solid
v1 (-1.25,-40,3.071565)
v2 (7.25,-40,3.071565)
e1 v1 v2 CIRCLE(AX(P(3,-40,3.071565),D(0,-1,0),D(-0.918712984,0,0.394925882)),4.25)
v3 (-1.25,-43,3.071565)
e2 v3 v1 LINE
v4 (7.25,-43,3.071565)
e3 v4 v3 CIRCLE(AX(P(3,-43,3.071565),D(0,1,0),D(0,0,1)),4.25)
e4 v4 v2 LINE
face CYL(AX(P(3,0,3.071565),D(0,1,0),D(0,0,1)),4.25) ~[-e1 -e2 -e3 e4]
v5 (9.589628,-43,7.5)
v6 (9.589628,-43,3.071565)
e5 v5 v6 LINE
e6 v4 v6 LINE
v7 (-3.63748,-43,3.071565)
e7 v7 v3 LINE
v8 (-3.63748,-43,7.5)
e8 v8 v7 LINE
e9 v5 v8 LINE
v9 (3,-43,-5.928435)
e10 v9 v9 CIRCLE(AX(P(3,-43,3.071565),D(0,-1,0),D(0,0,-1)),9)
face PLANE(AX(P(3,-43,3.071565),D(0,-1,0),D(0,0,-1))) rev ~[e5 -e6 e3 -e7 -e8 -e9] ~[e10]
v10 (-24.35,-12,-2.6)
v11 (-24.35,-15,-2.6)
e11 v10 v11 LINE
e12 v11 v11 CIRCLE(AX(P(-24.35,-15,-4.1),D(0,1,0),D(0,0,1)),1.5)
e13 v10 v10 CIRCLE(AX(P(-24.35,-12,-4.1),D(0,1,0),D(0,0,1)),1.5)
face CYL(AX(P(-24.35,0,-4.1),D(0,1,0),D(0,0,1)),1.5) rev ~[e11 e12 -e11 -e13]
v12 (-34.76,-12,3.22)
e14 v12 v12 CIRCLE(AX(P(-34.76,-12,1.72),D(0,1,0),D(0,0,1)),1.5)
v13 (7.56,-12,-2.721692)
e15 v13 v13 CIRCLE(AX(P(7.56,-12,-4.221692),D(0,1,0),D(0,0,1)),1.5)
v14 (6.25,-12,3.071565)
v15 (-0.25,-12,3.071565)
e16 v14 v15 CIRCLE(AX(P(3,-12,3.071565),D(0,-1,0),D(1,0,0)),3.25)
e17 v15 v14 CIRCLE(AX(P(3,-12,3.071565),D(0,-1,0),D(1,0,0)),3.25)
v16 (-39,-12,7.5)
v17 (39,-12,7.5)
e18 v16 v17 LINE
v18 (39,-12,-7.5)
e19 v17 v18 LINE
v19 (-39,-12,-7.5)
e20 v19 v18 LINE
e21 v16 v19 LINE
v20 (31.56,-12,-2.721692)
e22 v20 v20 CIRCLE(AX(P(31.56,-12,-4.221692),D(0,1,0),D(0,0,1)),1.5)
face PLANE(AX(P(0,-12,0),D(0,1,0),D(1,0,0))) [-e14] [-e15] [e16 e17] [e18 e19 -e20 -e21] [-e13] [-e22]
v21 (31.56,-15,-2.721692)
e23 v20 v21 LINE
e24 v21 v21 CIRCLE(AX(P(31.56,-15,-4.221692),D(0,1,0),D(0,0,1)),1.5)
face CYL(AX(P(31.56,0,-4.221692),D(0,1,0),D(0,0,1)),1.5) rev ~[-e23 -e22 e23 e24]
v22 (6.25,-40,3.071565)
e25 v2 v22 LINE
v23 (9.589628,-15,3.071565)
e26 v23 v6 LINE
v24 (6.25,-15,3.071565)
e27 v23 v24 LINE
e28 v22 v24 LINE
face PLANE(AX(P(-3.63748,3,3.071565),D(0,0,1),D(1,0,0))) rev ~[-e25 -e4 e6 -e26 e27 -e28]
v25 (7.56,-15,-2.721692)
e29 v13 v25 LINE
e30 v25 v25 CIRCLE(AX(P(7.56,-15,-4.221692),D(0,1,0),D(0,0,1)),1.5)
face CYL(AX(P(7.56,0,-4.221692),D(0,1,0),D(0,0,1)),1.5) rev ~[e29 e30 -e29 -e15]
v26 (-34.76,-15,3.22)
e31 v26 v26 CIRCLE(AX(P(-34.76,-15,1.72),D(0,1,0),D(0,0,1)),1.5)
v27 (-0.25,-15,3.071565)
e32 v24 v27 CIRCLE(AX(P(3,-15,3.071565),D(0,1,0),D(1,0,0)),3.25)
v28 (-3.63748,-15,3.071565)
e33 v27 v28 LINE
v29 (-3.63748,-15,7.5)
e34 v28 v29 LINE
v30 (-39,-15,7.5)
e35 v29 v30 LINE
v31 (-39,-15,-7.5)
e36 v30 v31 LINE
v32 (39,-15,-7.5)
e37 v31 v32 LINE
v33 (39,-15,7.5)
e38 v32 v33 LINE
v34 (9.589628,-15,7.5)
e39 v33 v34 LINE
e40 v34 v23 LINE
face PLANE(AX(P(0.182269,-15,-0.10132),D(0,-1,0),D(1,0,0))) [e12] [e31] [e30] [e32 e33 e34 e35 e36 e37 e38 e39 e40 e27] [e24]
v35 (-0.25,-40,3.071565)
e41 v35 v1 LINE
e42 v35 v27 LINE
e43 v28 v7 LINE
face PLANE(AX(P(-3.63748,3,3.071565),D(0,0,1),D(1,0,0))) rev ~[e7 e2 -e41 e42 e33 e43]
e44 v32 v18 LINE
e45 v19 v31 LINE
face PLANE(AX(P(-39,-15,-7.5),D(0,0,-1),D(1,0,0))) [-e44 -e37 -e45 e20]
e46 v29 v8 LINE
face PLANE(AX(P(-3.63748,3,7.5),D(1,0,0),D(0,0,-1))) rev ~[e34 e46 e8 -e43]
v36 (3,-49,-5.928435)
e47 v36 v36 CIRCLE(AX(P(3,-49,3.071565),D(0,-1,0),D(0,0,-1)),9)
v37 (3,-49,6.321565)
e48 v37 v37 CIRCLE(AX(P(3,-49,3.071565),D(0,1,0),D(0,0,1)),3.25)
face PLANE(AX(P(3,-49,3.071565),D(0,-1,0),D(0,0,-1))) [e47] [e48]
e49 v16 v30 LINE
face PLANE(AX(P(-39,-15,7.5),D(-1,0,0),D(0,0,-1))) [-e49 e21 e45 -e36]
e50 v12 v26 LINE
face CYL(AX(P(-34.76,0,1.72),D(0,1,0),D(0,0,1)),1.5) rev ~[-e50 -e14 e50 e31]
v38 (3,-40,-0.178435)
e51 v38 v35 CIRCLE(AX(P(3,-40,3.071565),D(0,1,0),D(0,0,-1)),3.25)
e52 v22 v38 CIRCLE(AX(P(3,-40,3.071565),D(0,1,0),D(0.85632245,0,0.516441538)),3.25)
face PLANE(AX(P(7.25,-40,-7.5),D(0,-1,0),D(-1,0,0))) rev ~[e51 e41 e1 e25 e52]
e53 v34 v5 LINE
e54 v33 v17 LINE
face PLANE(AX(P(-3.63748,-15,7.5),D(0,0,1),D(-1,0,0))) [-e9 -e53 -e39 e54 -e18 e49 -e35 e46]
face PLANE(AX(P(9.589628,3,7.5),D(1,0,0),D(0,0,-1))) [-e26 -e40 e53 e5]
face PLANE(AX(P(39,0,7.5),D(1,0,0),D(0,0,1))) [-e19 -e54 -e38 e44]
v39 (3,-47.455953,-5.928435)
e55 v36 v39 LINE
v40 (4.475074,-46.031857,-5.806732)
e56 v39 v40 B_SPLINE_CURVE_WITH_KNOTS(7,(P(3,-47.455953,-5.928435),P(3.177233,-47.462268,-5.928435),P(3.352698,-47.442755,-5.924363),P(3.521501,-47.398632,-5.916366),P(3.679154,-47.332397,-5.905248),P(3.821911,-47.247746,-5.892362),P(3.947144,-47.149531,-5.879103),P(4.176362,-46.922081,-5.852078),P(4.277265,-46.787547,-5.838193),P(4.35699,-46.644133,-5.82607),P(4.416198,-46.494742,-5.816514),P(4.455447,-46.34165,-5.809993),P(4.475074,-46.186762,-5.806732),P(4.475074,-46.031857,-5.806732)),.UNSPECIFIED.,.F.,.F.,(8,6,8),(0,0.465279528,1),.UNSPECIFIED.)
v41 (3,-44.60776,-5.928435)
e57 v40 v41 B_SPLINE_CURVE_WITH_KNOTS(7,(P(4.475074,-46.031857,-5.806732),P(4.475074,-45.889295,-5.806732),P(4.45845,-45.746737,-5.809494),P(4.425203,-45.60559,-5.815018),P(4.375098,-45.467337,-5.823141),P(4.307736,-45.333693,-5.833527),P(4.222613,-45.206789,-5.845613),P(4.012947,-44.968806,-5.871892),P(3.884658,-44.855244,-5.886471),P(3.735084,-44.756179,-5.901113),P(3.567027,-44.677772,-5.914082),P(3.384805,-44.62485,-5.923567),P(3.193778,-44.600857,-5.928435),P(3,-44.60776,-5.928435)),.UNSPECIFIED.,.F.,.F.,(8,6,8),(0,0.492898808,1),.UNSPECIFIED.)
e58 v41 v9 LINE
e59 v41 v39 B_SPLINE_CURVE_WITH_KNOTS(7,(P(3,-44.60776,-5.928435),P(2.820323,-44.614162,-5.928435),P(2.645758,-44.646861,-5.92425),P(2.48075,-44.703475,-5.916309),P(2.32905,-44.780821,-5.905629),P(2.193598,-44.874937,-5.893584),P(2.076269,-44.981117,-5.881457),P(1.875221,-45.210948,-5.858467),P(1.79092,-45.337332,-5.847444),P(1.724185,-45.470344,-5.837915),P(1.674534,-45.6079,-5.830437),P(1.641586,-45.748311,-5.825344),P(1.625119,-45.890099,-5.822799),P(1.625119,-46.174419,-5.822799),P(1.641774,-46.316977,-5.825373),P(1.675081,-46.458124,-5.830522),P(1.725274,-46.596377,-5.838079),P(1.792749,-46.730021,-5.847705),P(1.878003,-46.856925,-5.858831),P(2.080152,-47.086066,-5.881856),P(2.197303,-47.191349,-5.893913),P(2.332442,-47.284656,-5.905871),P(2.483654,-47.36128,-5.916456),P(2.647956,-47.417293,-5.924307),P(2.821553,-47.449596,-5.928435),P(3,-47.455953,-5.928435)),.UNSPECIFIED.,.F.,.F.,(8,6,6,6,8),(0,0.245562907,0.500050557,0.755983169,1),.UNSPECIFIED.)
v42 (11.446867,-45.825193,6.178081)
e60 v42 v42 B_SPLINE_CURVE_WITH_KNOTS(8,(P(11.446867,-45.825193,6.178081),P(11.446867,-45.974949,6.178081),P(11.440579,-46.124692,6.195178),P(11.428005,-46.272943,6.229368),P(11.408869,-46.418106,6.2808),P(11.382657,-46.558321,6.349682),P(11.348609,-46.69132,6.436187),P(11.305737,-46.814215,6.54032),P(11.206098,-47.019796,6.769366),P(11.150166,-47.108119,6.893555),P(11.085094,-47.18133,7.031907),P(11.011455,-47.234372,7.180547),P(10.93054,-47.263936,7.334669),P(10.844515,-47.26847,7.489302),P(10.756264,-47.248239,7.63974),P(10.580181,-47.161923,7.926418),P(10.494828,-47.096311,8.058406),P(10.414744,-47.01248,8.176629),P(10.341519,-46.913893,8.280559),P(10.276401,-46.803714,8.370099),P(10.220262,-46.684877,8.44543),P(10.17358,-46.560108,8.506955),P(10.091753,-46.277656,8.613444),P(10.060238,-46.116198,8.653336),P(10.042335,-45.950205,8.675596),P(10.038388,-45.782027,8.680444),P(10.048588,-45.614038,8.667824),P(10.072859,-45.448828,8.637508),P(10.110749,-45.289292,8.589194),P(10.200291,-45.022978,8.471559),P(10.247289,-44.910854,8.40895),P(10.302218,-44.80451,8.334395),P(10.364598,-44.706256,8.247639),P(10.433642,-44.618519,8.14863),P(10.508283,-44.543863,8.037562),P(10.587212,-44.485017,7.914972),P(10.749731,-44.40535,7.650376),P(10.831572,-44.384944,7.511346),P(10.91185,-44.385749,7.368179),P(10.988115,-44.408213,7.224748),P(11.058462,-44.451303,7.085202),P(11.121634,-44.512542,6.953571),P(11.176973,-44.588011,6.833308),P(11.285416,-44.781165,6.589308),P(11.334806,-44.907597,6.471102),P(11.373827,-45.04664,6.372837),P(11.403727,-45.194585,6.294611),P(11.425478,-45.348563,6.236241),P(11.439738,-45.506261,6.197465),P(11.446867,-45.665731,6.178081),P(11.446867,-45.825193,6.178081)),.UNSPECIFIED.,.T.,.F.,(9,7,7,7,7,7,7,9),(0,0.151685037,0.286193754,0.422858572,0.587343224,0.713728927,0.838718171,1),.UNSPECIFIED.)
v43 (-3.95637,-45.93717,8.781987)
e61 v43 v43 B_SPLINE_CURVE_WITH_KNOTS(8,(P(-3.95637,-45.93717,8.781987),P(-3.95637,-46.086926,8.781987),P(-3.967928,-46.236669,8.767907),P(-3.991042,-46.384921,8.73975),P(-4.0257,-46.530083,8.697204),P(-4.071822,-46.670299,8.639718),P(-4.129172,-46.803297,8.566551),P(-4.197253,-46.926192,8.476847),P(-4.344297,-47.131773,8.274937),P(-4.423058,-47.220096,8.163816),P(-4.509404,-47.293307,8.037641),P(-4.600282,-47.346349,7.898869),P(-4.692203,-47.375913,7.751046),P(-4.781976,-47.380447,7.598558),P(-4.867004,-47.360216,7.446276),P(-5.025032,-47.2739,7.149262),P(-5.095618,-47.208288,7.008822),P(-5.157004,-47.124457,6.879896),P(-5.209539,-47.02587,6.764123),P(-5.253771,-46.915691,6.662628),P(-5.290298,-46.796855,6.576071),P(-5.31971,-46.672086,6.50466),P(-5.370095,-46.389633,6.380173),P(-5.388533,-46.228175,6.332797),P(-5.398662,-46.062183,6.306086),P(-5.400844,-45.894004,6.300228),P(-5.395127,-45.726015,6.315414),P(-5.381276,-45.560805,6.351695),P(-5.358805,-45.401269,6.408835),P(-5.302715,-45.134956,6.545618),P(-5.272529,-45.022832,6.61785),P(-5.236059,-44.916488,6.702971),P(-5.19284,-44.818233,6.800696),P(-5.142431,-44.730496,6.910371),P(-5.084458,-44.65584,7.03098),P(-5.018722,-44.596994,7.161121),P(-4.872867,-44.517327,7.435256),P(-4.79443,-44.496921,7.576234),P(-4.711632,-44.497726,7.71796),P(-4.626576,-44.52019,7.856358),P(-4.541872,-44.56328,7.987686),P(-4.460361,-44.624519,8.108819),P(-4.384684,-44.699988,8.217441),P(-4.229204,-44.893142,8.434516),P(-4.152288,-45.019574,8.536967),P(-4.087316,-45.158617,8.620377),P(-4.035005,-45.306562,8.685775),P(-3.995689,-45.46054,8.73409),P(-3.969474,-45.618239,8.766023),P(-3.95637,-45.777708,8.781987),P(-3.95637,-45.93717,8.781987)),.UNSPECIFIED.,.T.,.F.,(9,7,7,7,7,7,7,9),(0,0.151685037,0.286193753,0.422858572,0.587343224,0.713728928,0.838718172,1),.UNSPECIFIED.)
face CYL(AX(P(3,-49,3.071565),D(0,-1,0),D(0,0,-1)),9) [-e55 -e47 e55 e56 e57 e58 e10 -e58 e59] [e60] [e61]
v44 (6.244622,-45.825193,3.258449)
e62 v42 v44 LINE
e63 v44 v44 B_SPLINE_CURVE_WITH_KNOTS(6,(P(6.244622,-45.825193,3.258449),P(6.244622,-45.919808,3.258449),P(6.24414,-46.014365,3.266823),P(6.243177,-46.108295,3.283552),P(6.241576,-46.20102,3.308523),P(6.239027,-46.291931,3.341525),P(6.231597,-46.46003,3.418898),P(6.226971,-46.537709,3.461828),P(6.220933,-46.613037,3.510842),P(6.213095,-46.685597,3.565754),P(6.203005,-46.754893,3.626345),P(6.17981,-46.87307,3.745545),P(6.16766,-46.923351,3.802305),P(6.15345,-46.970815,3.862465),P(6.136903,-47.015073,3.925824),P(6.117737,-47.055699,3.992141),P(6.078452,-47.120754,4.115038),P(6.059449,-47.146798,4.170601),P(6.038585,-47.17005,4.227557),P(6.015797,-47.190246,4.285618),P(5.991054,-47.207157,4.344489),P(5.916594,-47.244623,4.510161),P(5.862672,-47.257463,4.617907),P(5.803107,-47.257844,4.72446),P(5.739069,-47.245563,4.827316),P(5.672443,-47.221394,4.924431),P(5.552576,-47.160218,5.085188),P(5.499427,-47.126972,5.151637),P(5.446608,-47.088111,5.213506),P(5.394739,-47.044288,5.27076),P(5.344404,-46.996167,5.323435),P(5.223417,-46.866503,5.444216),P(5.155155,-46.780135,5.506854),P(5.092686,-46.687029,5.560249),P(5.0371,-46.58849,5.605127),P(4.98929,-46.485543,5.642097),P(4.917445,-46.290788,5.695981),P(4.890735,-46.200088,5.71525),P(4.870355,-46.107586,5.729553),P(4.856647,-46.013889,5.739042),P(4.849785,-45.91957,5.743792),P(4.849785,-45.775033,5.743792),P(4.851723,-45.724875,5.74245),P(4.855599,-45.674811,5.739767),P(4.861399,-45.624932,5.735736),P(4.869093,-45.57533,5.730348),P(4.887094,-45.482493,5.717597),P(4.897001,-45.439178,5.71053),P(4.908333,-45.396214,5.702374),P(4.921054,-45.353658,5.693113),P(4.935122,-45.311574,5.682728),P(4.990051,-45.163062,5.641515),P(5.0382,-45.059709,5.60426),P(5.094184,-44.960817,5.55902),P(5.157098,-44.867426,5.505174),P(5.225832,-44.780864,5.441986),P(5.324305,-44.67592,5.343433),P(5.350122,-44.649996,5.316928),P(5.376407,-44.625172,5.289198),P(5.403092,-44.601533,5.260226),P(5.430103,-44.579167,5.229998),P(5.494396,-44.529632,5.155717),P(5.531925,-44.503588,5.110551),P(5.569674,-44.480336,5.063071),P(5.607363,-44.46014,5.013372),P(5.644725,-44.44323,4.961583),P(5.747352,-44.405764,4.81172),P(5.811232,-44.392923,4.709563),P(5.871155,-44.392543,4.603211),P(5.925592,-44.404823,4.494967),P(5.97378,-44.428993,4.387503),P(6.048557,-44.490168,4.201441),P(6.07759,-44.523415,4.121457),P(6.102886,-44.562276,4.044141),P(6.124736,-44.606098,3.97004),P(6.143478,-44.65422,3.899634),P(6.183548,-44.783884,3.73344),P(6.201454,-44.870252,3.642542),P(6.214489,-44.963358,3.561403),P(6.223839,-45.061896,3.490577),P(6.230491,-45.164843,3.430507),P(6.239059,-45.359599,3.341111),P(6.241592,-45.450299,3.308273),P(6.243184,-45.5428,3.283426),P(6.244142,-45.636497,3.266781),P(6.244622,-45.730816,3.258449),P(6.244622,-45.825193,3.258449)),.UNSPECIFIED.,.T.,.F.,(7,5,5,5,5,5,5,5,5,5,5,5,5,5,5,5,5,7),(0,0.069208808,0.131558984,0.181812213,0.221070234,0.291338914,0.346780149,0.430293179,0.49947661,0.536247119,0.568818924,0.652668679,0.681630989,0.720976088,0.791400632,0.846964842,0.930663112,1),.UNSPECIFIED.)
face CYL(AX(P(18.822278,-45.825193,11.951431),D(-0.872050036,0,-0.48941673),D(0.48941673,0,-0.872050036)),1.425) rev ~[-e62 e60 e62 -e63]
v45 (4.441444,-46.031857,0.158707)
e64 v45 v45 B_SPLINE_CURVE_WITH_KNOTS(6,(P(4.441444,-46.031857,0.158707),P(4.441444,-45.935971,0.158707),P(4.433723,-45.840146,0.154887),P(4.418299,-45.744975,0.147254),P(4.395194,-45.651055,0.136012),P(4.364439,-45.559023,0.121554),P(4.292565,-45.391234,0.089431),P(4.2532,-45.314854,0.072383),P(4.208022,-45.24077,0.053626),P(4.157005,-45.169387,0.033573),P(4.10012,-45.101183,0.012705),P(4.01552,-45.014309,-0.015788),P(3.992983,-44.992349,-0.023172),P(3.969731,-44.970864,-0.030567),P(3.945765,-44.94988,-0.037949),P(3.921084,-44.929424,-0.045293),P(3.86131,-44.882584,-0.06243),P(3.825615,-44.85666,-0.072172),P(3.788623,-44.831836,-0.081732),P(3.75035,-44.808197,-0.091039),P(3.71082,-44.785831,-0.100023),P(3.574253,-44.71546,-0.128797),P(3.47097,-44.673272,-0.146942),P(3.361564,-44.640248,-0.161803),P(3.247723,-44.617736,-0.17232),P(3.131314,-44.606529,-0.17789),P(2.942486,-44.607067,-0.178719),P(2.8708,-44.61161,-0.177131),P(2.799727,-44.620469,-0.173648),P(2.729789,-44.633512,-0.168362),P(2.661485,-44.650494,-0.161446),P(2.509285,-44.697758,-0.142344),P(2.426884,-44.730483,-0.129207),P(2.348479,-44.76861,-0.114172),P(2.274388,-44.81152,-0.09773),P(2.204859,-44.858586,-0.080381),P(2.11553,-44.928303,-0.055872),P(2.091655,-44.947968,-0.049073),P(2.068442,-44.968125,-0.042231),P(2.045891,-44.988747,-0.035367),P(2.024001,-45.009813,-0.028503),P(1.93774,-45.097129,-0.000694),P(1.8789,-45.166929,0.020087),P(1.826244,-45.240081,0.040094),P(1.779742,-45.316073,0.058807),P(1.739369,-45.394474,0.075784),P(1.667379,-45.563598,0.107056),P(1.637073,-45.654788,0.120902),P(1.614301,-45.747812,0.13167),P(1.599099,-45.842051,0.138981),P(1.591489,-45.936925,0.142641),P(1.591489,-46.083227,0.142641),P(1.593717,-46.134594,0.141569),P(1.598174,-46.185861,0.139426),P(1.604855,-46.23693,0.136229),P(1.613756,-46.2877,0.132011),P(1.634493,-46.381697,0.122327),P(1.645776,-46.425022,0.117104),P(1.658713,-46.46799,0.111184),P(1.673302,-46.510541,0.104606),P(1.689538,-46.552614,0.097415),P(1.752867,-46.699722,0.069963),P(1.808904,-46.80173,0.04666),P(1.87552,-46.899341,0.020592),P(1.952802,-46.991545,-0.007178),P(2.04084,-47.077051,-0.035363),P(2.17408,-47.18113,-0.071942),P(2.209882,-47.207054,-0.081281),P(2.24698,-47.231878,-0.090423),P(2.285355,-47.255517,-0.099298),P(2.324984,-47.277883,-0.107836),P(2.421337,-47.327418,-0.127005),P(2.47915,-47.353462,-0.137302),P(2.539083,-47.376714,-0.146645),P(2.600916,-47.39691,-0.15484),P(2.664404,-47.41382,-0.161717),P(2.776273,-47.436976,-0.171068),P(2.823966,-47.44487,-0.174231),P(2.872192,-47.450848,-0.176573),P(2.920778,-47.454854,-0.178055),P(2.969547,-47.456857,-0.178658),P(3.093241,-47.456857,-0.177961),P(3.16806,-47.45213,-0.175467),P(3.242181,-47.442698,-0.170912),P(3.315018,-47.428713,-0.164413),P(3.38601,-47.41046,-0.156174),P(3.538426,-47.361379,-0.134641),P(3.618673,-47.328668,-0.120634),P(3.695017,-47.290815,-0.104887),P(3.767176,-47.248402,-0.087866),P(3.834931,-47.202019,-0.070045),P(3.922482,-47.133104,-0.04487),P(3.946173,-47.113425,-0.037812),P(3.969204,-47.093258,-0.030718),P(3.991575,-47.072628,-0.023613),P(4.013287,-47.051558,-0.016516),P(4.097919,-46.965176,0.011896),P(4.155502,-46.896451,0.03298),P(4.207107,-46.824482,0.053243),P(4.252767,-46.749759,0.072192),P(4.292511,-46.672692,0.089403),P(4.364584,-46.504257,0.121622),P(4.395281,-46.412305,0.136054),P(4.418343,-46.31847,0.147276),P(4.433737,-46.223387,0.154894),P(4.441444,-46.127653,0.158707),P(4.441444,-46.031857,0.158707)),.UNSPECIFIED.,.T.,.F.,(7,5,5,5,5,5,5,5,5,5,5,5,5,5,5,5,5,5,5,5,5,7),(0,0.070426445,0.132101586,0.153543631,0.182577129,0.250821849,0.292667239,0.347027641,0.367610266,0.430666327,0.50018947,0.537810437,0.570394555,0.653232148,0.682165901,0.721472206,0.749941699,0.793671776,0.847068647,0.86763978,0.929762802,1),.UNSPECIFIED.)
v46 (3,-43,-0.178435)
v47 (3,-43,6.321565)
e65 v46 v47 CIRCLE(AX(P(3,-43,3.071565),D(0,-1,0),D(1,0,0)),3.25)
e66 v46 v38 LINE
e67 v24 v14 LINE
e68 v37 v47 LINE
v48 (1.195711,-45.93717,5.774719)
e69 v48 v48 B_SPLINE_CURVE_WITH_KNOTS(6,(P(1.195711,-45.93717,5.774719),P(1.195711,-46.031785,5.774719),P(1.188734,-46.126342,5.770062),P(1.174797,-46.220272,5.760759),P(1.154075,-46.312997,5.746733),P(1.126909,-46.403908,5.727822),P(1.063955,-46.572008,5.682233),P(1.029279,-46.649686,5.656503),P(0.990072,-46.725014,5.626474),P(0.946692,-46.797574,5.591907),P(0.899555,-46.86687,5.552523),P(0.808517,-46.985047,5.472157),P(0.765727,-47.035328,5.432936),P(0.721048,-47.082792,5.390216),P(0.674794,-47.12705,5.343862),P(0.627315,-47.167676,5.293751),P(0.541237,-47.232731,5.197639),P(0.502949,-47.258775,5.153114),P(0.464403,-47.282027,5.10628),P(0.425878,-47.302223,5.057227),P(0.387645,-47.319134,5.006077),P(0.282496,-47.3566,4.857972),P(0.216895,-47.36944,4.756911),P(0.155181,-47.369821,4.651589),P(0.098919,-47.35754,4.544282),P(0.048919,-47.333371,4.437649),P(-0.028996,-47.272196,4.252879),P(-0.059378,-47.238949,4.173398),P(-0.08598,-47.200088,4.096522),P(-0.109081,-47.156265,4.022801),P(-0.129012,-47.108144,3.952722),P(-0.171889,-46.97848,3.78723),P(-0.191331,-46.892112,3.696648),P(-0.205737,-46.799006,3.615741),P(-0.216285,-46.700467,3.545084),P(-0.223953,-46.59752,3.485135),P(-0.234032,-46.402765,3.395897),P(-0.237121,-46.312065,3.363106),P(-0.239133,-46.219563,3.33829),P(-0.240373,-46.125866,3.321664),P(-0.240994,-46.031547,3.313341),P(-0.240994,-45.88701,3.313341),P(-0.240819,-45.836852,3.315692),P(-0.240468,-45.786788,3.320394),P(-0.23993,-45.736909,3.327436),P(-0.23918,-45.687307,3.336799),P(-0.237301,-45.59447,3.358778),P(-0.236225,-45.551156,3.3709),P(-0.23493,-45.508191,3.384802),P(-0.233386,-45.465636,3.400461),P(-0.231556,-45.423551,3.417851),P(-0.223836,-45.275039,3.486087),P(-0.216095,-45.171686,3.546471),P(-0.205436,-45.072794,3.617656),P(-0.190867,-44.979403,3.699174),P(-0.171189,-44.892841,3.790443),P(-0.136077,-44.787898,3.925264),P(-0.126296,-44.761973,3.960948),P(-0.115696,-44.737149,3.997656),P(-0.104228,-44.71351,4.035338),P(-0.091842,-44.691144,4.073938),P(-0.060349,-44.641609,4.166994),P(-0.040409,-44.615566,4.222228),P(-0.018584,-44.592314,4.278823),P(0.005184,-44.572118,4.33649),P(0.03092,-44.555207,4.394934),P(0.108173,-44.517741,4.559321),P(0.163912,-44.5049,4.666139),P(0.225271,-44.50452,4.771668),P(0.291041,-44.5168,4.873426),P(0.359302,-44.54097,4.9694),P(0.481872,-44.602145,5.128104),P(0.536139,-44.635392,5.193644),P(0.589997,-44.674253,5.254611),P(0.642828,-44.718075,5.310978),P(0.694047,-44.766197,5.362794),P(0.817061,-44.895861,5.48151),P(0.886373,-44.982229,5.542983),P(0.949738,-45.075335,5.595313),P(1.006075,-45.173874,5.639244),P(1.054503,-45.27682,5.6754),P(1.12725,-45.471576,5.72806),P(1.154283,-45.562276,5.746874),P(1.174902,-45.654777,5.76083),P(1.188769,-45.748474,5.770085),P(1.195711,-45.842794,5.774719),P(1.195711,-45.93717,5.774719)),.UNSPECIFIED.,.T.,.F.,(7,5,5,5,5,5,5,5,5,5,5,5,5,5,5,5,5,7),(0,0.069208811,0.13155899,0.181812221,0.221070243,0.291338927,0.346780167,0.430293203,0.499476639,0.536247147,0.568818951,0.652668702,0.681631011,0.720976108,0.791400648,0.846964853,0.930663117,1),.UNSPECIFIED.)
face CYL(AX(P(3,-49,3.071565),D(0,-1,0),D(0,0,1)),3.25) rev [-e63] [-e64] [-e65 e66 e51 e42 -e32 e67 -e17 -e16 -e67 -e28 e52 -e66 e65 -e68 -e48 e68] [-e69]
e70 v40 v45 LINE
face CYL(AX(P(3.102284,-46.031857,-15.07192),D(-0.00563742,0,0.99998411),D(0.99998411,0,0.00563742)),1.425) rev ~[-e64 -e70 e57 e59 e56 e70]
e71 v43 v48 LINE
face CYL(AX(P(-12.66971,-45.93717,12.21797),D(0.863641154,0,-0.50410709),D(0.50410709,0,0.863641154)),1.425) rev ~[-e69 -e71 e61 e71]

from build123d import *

# Parameters (mm, degrees)
SKETCH_1_W                = 78
SKETCH_1_H                = 15
EXTRUDE_1_DEPTH           = 3
SKETCH_3_R                = 1.5
CUT_EXTRUDE_1_DEPTH       = 3
SKETCH_4_R                = 6
EXTRUDE_2_DEPTH           = 18
SKETCH_5_R                = 4.5
CUT_EXTRUDE_2_DEPTH       = 21
F_2_0MM_2_D               = 3
F_2_0MM_2_DEPTH           = 4.5
F_2_0MM_2_TIP             = 1.5
F_2_0MM_2_ON_FACE_2_D     = 3
F_2_0MM_2_ON_FACE_2_DEPTH = 4.5
F_2_0MM_2_ON_FACE_2_TIP   = 1.5
SKETCH_10_W               = 6
SKETCH_10_H               = 10
CUT_EXTRUDE_3_DEPTH       = 7
SKETCH_13_W               = 19.835687411
SKETCH_13_H               = 21.610205193
CUT_EXTRUDE_4_DEPTH       = 20
SKETCH_14_W               = 11.523038103
SKETCH_14_H               = 10.49031299
EXTRUDE_3_DEPTH           = 3
SKETCH_18_W               = 78
SKETCH_18_H               = 8
EXTRUDE_4_DEPTH           = 3
SKETCH_19_W               = 36.767904102
SKETCH_19_H               = 2.5
EXTRUDE_5_DEPTH           = 12.5
SKETCH_23_R               = 1.65
CUT_EXTRUDE_6_DEPTH       = 12.5
SKETCH_25_W               = 4.236607592
SKETCH_25_H               = 5.36409187
EXTRUDE_7_DEPTH           = 2.5
SKETCH_26_R               = 1.6
CUT_EXTRUDE_7_DEPTH       = 2.5
SKETCH_27_W               = 21.346012392
SKETCH_27_H               = 6.594354882
EXTRUDE_8_DEPTH           = 2.5
SKETCH_28_W               = 36.767231154
SKETCH_28_H               = 5.91819544
EXTRUDE_9_DEPTH           = 2.5
SKETCH_29_W               = 27.660340415
SKETCH_29_H               = 3.5
CUT_EXTRUDE_9_DEPTH       = 2.5
SKETCH_30_W               = 78
SKETCH_30_H               = 8
CUT_EXTRUDE_10_DEPTH      = 100
SKETCH_31_W               = 60.820132647
SKETCH_31_H               = 3
EXTRUDE_10_DEPTH          = 49
SKETCH_32_W               = 48
SKETCH_32_H               = 3.2
CUT_EXTRUDE_11_DEPTH      = 49
SKETCH_33_W               = 15
SKETCH_33_H               = 49.05968874
CUT_EXTRUDE_12_DEPTH      = 100
SKETCH_34_R               = 4.25
EXTRUDE_11_DEPTH          = 49
SKETCH_35_R               = 6
EXTRUDE_12_DEPTH          = 6
SKETCH_36_W               = 8.5
SKETCH_36_H               = 40
CUT_EXTRUDE_13_DEPTH      = 11
SKETCH_37_R               = 3.25
CUT_EXTRUDE_16_DEPTH      = 100
SKETCH_39_W               = 8.456699936
SKETCH_39_H               = 16
CUT_EXTRUDE_17_DEPTH      = 1.25
F_3_0MM_1_D               = 2.85
F_3_0MM_1_DEPTH           = 4.143773618
F_3_0MM_1_TIP             = 0.856226382
F_3_0MM_2_D               = 2.85
F_3_0MM_2_DEPTH           = 4.143773618
F_3_0MM_2_TIP             = 0.856226382
F_3_0MM_3_D               = 2.85
F_3_0MM_3_DEPTH           = 4.143773618
F_3_0MM_3_TIP             = 0.856226382
SKETCH_46_W               = 13.227107738
SKETCH_46_H               = 4.428434999
EXTRUDE_13_DEPTH          = 46
CUT_EXTRUDE_18_DEPTH      = 55
EXTRUDE_START             = 15
EXTRUDE_14_DEPTH          = 15
SKETCH_50_R               = 1.5
CUT_EXTRUDE_19_DEPTH      = 15
SKETCH_51_R               = 1.5
CUT_EXTRUDE_20_DEPTH      = 15
SKETCH_52_R               = 1.5
CUT_EXTRUDE_21_DEPTH      = 15
SKETCH_53_R               = 1.5
CUT_EXTRUDE_22_DEPTH      = 15
SKETCH_54_W               = 78
SKETCH_54_H               = 15
CUT_EXTRUDE_23_DEPTH      = 15
F_3_0MM_4_D               = 2.85
F_3_0MM_4_DEPTH           = 4.143773618
F_3_0MM_4_TIP             = 0.856226382
F_3_0MM_5_D               = 2.85
F_3_0MM_5_DEPTH           = 4.143773618
F_3_0MM_5_TIP             = 0.856226382
SKETCH_60_R               = 9
EXTRUDE_15_DEPTH          = 6
CUT_EXTRUDE_START         = -6
SKETCH_61_R               = 3.25
CUT_EXTRUDE_24_DEPTH      = 6
F_3_0MM_6_D               = 2.85
F_3_0MM_6_DEPTH           = 9.143773618
F_3_0MM_6_TIP             = 0.856226382
F_3_0MM_7_D               = 2.85
F_3_0MM_7_DEPTH           = 9.143773618
F_3_0MM_7_TIP             = 0.856226382
F_3_0MM_7_ON_FACE_2_D     = 2.85
F_3_0MM_7_ON_FACE_2_DEPTH = 9.143773618
F_3_0MM_7_ON_FACE_2_TIP   = 0.856226382


with BuildPart() as part:
    # 草图1 → 凸台-拉伸1 (new body)
    with BuildSketch(Plane(origin=(0, 0, 0), x_dir=(1, 0, 0), z_dir=(0, 1, 0))):
        Rectangle(SKETCH_1_W, SKETCH_1_H)
    extrude(amount=EXTRUDE_1_DEPTH)

    # 草图3 → 切除-拉伸1 (cut)
    with BuildSketch(Plane(origin=(0, 3, 0), x_dir=(1, 0, 0), z_dir=(0, 1, 0))):
        with Locations(Location((-34.76, -1.72, 0), (0, 0, 270))):
            Circle(SKETCH_3_R)
        with Locations(Location((-24.35, 4.1, 0), (0, 0, 270))):
            Circle(SKETCH_3_R)
        with Locations(Location((31.56, 4.221692081, 0), (0, 0, 270))):
            Circle(SKETCH_3_R)
        with Locations(Location((7.56, 4.221692081, 0), (0, 0, 270))):
            Circle(SKETCH_3_R)
    extrude(amount=-CUT_EXTRUDE_1_DEPTH, mode=Mode.SUBTRACT)

    # 草图4 → 凸台-拉伸2 (add)
    with BuildSketch(Plane(origin=(0, 3, 0), x_dir=(1, 0, 0), z_dir=(0, 1, 0))):
        with Locations(Location((-3, -1.234165229, 0), (0, 0, 270))):
            Circle(SKETCH_4_R)
    extrude(amount=EXTRUDE_2_DEPTH)

    # 草图5 → 切除-拉伸2 (cut)
    with BuildSketch(Plane(origin=(0, 21, 0), x_dir=(1, 0, 0), z_dir=(0, 1, 0))):
        with Locations(Location((-3, -1.234165229, 0), (0, 0, 270))):
            Circle(SKETCH_5_R)
    extrude(amount=-CUT_EXTRUDE_2_DEPTH, mode=Mode.SUBTRACT)

    # Ø2.0mm 暗销孔2
    with Locations(Plane(origin=(-7.901331048, 17.342107422, 4.694938836), x_dir=(-0.576795601176, 0, -0.816888507977), z_dir=(-0.816888507977, 0, 0.576795601176))):
        with Locations((0, 0)):
            Hole(F_2_0MM_2_D / 2, depth=F_2_0MM_2_DEPTH)
            with Locations((0, 0, -(F_2_0MM_2_DEPTH + F_2_0MM_2_TIP / 2))):  # 90° drill point
                Cone(0, F_2_0MM_2_D / 2, F_2_0MM_2_TIP, mode=Mode.SUBTRACT)

    # Ø2.0mm 暗销孔2 on face 2
    with Locations(Plane(origin=(1.071764877, 17.164817099, 5.641061052), x_dir=(0.734483043181, 0, -0.678627039897), z_dir=(0.678627039897, 0, 0.734483043181))):
        with Locations((0, 0)):
            Hole(F_2_0MM_2_ON_FACE_2_D / 2, depth=F_2_0MM_2_ON_FACE_2_DEPTH)
            with Locations((0, 0, -(F_2_0MM_2_ON_FACE_2_DEPTH + F_2_0MM_2_ON_FACE_2_TIP / 2))):  # 90° drill point
                Cone(0, F_2_0MM_2_ON_FACE_2_D / 2, F_2_0MM_2_ON_FACE_2_TIP, mode=Mode.SUBTRACT)

    # 草图10 → 切除-拉伸3 (cut)
    with BuildSketch(Plane(origin=(0, 0, -7.5), x_dir=(-1, 0, 0), z_dir=(0, 0, -1))):
        with Locations((3, 8)):
            Rectangle(SKETCH_10_W, SKETCH_10_H)
    extrude(amount=-CUT_EXTRUDE_3_DEPTH, mode=Mode.SUBTRACT)

    # 草图13 → 切除-拉伸4 (cut)
    with BuildSketch(Plane(origin=(0, 0, -7.5), x_dir=(-1, 0, 0), z_dir=(0, 0, -1))):
        with Locations((3.314421038, 13.805102597)):
            Rectangle(SKETCH_13_W, SKETCH_13_H)
    extrude(amount=-CUT_EXTRUDE_4_DEPTH, mode=Mode.SUBTRACT)

    # 草图14 → 凸台-拉伸3 (add)
    with BuildSketch(Plane(origin=(0, 3, 0), x_dir=(1, 0, 0), z_dir=(0, 1, 0))):
        with Locations((-2.989467433, -1.263493391)):
            Rectangle(SKETCH_14_W, SKETCH_14_H)
    extrude(amount=-EXTRUDE_3_DEPTH)

    # 草图18 → 凸台-拉伸4 (add)
    with BuildSketch(Plane.XZ):
        with Locations((0, 11.5)):
            Rectangle(SKETCH_18_W, SKETCH_18_H)
    extrude(amount=-EXTRUDE_4_DEPTH)

    # 草图19 → 凸台-拉伸5 (add)
    with BuildSketch(Plane.XZ):
        with Locations((0.839237194, 14.25)):
            Rectangle(SKETCH_19_W, SKETCH_19_H)
    extrude(amount=EXTRUDE_5_DEPTH)

    # 草图23 → 切除-拉伸6 (cut)
    with BuildSketch(Plane(origin=(0, 0, 13), x_dir=(-1, 0, 0), z_dir=(0, 0, -1))):
        with Locations((-8.603189245, -6.05592298)):
            Circle(SKETCH_23_R)
        with Locations((2.596810755, -6.05592298)):
            Circle(SKETCH_23_R)
    extrude(amount=-CUT_EXTRUDE_6_DEPTH, mode=Mode.SUBTRACT)

    # 草图25 → 凸台-拉伸7 (add)
    with BuildSketch(Plane(origin=(0, 0, 13), x_dir=(-1, 0, 0), z_dir=(0, 0, -1))):
        with Locations((2.330668631, -6.426480946)):
            Rectangle(SKETCH_25_W, SKETCH_25_H)
    extrude(amount=-EXTRUDE_7_DEPTH)

    # 草图26 → 切除-拉伸7 (cut)
    with BuildSketch(Plane(origin=(0, 0, 13), x_dir=(-1, 0, 0), z_dir=(0, 0, -1))):
        with Locations((4.196810755, -6.05592298)):
            Circle(SKETCH_26_R)
    extrude(amount=-CUT_EXTRUDE_7_DEPTH, mode=Mode.SUBTRACT)

    # 草图27 → 凸台-拉伸8 (add)
    with BuildSketch(Plane(origin=(0, 0, 13), x_dir=(-1, 0, 0), z_dir=(0, 0, -1))):
        with Locations((-2.379316694, -6.691741876)):
            Rectangle(SKETCH_27_W, SKETCH_27_H)
    extrude(amount=-EXTRUDE_8_DEPTH)

    # 草图28 → 凸台-拉伸9 (add)
    with BuildSketch(Plane(origin=(0, 0, 13), x_dir=(-1, 0, 0), z_dir=(0, 0, -1))):
        with Locations((-0.839573668, -15.45909772)):
            Rectangle(SKETCH_28_W, SKETCH_28_H)
    extrude(amount=-EXTRUDE_9_DEPTH)

    # 草图29 → 切除-拉伸9 (cut)
    with BuildSketch(Plane(origin=(0, 0, 13), x_dir=(-1, 0, 0), z_dir=(0, 0, -1))):
        with Locations((-0.633763758, -13.394190827)):
            Rectangle(SKETCH_29_W, SKETCH_29_H)
    extrude(amount=-CUT_EXTRUDE_9_DEPTH, mode=Mode.SUBTRACT)

    # 草图30 → 切除-拉伸10 (cut)
    with BuildSketch(Plane(origin=(0, 3, 0), x_dir=(1, 0, 0), z_dir=(0, 1, 0))):
        with Locations((0, -11.5)):
            Rectangle(SKETCH_30_W, SKETCH_30_H)
    extrude(amount=-CUT_EXTRUDE_10_DEPTH, mode=Mode.SUBTRACT)

    # 草图31 → 凸台-拉伸10 (add)
    with BuildSketch(Plane.XZ):
        with Locations((0.65611444, 6)):
            Rectangle(SKETCH_31_W, SKETCH_31_H)
    extrude(amount=EXTRUDE_10_DEPTH)

    # 草图32 → 切除-拉伸11 (cut)
    with BuildSketch(Plane(origin=(0, 0, 4.5), x_dir=(-1, 0, 0), z_dir=(0, 0, -1))):
        with Locations((-0.175604554, -15.854114518)):
            Rectangle(SKETCH_32_W, SKETCH_32_H)
        with Locations((-0.205191163, -23.054114518)):
            Rectangle(SKETCH_32_W, SKETCH_32_H)
        with Locations((-0.173277927, -30.254114518)):
            Rectangle(SKETCH_32_W, SKETCH_32_H)
        with Locations((-0.15338956, -37.454114518)):
            Rectangle(SKETCH_32_W, SKETCH_32_H)
        with Locations((-0.189333293, -44.654114518)):
            Rectangle(SKETCH_32_W, SKETCH_32_H)
        with Locations((-0.276259634, -9.654114518)):
            Rectangle(SKETCH_32_W, SKETCH_32_H)
    extrude(amount=-CUT_EXTRUDE_11_DEPTH, mode=Mode.SUBTRACT)

    # 草图33 → 切除-拉伸12 (cut)
    with BuildSketch(Plane(origin=(31.066180764, 0, 0), x_dir=(0, 0, -1), z_dir=(1, 0, 0))):
        with Locations((0, -24.52984437)):
            Rectangle(SKETCH_33_W, SKETCH_33_H)
    extrude(amount=-CUT_EXTRUDE_12_DEPTH, mode=Mode.SUBTRACT)

    # 草图34 → 凸台-拉伸11 (add)
    with BuildSketch(Plane.XZ):
        with Locations(Location((3, 3.071565001, 0), (0, 0, 90))):
            Circle(SKETCH_34_R)
    extrude(amount=EXTRUDE_11_DEPTH)

    # 草图35 → 凸台-拉伸12 (add)
    with BuildSketch(Plane.XZ.offset(49)):
        with Locations(Location((3, 3.071565001, 0), (0, 0, 270))):
            Circle(SKETCH_35_R)
    extrude(amount=-EXTRUDE_12_DEPTH)

    # 草图36 → 切除-拉伸13 (cut)
    with BuildSketch(Plane(origin=(0, 0, -7.5), x_dir=(-1, 0, 0), z_dir=(0, 0, -1))):
        with Locations((-3, -20)):
            Rectangle(SKETCH_36_W, SKETCH_36_H)
    extrude(amount=-CUT_EXTRUDE_13_DEPTH, mode=Mode.SUBTRACT)

    # 草图37 → 切除-拉伸16 (cut)
    with BuildSketch(Plane.XZ.offset(49)):
        with Locations(Location((3, 3.071565001, 0), (0, 0, 270))):
            Circle(SKETCH_37_R)
    extrude(amount=-CUT_EXTRUDE_16_DEPTH, mode=Mode.SUBTRACT)

    # 草图39 → 切除-拉伸17 (cut)
    with BuildSketch(Plane(origin=(0, 0, 3.5), x_dir=(-1, 0, 0), z_dir=(0, 0, -1))):
        with Locations((-3, -32)):
            Rectangle(SKETCH_39_W, SKETCH_39_H)
    extrude(amount=-CUT_EXTRUDE_17_DEPTH, mode=Mode.SUBTRACT)

    # Ø3.0mm 暗销孔1
    with Locations(Plane(origin=(3.06916604, -45.926554475, -2.928036324), x_dir=(-0.999933554166, 0, -0.011527673319), z_dir=(0.011527673319, 0, -0.999933554166))):
        with Locations((0, 0)):
            Hole(F_3_0MM_1_D / 2, depth=F_3_0MM_1_DEPTH)
            with Locations((0, 0, -(F_3_0MM_1_DEPTH + F_3_0MM_1_TIP / 2))):  # 118° drill point
                Cone(0, F_3_0MM_1_D / 2, F_3_0MM_1_TIP, mode=Mode.SUBTRACT)

    # Ø3.0mm 暗销孔2
    with Locations(Plane(origin=(-2.19436254, -45.980907568, 6.074663036), x_dir=(-0.500516339146, 0, -0.865727089936), z_dir=(-0.865727089936, 0, 0.500516339146))):
        with Locations((0, 0)):
            Hole(F_3_0MM_2_D / 2, depth=F_3_0MM_2_DEPTH)
            with Locations((0, 0, -(F_3_0MM_2_DEPTH + F_3_0MM_2_TIP / 2))):  # 118° drill point
                Cone(0, F_3_0MM_2_D / 2, F_3_0MM_2_TIP, mode=Mode.SUBTRACT)

    # Ø3.0mm 暗销孔3
    with Locations(Plane(origin=(8.205806468, -46.039954185, 6.054781221), x_dir=(-0.497202703373, 0, 0.86763441135), z_dir=(0.86763441135, 0, 0.497202703373))):
        with Locations((0, 0)):
            Hole(F_3_0MM_3_D / 2, depth=F_3_0MM_3_DEPTH)
            with Locations((0, 0, -(F_3_0MM_3_DEPTH + F_3_0MM_3_TIP / 2))):  # 118° drill point
                Cone(0, F_3_0MM_3_D / 2, F_3_0MM_3_TIP, mode=Mode.SUBTRACT)

    # 草图46 → 凸台-拉伸13 (add)
    with BuildSketch(Plane(origin=(0, 3, 0), x_dir=(1, 0, 0), z_dir=(0, 1, 0))):
        with Locations((2.976074231, -5.285782501)):
            Rectangle(SKETCH_46_W, SKETCH_46_H)
    extrude(amount=-EXTRUDE_13_DEPTH)

    # 草图48 → 切除-拉伸18 (cut)
    with BuildSketch(Plane.XZ.offset(49)):
        with BuildLine():
            Line((-0.25, 3.071565001), (6.25, 3.071565001))
            ThreePointArc((6.25, 3.071565001), (3, 6.321565001), (-0.25, 3.071565001))
        make_face()
    extrude(amount=-CUT_EXTRUDE_18_DEPTH, mode=Mode.SUBTRACT)

    # 草图49 → 凸台-拉伸14 (add)
    with BuildSketch(Plane.XZ.offset(EXTRUDE_START)):
        with BuildLine():
            Line((-0.25, 3.071565001), (-3.637479638, 3.071565001))
            Line((-3.637479638, 3.071565001), (-3.637479638, 7.5))
            Line((-3.637479638, 7.5), (-39, 7.5))
            Line((-39, 7.5), (-39, -7.5))
            Line((-39, -7.5), (39, -7.5))
            Line((39, -7.5), (39, 7.5))
            Line((39, 7.5), (9.5896281, 7.5))
            Line((9.5896281, 7.5), (9.5896281, 3.071565001))
            Line((9.5896281, 3.071565001), (6.25, 3.071565001))
            ThreePointArc((6.25, 3.071565001), (3, -0.178434999), (-0.25, 3.071565001))
        make_face()
    extrude(amount=-EXTRUDE_14_DEPTH)

    # 草图50 → 切除-拉伸19 (cut)
    with BuildSketch(Plane(origin=(0, 0, 0), x_dir=(1, 0, 0), z_dir=(0, 1, 0))):
        with Locations(Location((-34.76, -1.72, 0), (0, 0, 270))):
            Circle(SKETCH_50_R)
    extrude(amount=-CUT_EXTRUDE_19_DEPTH, mode=Mode.SUBTRACT)

    # 草图51 → 切除-拉伸20 (cut)
    with BuildSketch(Plane(origin=(0, 0, 0), x_dir=(1, 0, 0), z_dir=(0, 1, 0))):
        with Locations(Location((-24.35, 4.1, 0), (0, 0, 270))):
            Circle(SKETCH_51_R)
    extrude(amount=-CUT_EXTRUDE_20_DEPTH, mode=Mode.SUBTRACT)

    # 草图52 → 切除-拉伸21 (cut)
    with BuildSketch(Plane(origin=(0, 0, 0), x_dir=(1, 0, 0), z_dir=(0, 1, 0))):
        with Locations(Location((7.56, 4.221692081, 0), (0, 0, 270))):
            Circle(SKETCH_52_R)
    extrude(amount=-CUT_EXTRUDE_21_DEPTH, mode=Mode.SUBTRACT)

    # 草图53 → 切除-拉伸22 (cut)
    with BuildSketch(Plane(origin=(0, 0, 0), x_dir=(1, 0, 0), z_dir=(0, 1, 0))):
        with Locations(Location((31.56, 4.221692081, 0), (0, 0, 270))):
            Circle(SKETCH_53_R)
    extrude(amount=-CUT_EXTRUDE_22_DEPTH, mode=Mode.SUBTRACT)

    # 草图54 → 切除-拉伸23 (cut)
    with BuildSketch(Plane(origin=(0, 3, 0), x_dir=(1, 0, 0), z_dir=(0, 1, 0))):
        Rectangle(SKETCH_54_W, SKETCH_54_H)
    extrude(amount=-CUT_EXTRUDE_23_DEPTH, mode=Mode.SUBTRACT)

    # Ø3.0mm 暗销孔4
    with Locations(Plane(origin=(-2.206820669, -45.974417651, 0.09011929), x_dir=(0.496907618427, 0, -0.867803444767), z_dir=(-0.867803444767, 0, -0.496907618427))):
        with Locations((0, 0)):
            Hole(F_3_0MM_4_D / 2, depth=F_3_0MM_4_DEPTH)
            with Locations((0, 0, -(F_3_0MM_4_DEPTH + F_3_0MM_4_TIP / 2))):  # 118° drill point
                Cone(0, F_3_0MM_4_D / 2, F_3_0MM_4_TIP, mode=Mode.SUBTRACT)

    # Ø3.0mm 暗销孔5
    with Locations(Plane(origin=(8.192046128, -46.012961975, 0.064463904), x_dir=(0.501183516141, 0, 0.865341021303), z_dir=(0.865341021303, 0, -0.501183516141))):
        with Locations((0, 0)):
            Hole(F_3_0MM_5_D / 2, depth=F_3_0MM_5_DEPTH)
            with Locations((0, 0, -(F_3_0MM_5_DEPTH + F_3_0MM_5_TIP / 2))):  # 118° drill point
                Cone(0, F_3_0MM_5_D / 2, F_3_0MM_5_TIP, mode=Mode.SUBTRACT)

    # 草图60 → 凸台-拉伸15 (add)
    with BuildSketch(Plane.XZ.offset(49)):
        with Locations(Location((3, 3.071565001, 0), (0, 0, 270))):
            Circle(SKETCH_60_R)
    extrude(amount=-EXTRUDE_15_DEPTH)

    # 草图61 → 切除-拉伸24 (cut)
    with BuildSketch(Plane(origin=(0, -43, 0), x_dir=(1, 0, 0), z_dir=(0, 1, 0)).offset(CUT_EXTRUDE_START)):
        with Locations(Location((3, -3.071565001, 0), (0, 0, 270))):
            Circle(SKETCH_61_R)
    extrude(amount=CUT_EXTRUDE_24_DEPTH, mode=Mode.SUBTRACT)

    # Ø3.0mm 暗销孔6
    with Locations(Plane(origin=(3.050736778, -46.031856967, -5.928291986), x_dir=(-0.999984109623, 0, -0.00563741982), z_dir=(0.00563741982, 0, -0.999984109623))):
        with Locations((0, 0)):
            Hole(F_3_0MM_6_D / 2, depth=F_3_0MM_6_DEPTH)
            with Locations((0, 0, -(F_3_0MM_6_DEPTH + F_3_0MM_6_TIP / 2))):  # 118° drill point
                Cone(0, F_3_0MM_6_D / 2, F_3_0MM_6_TIP, mode=Mode.SUBTRACT)

    # Ø3.0mm 暗销孔7
    with Locations(Plane(origin=(10.848450321, -45.825193133, 7.476315567), x_dir=(-0.489416729598, 0, 0.872050035715), z_dir=(0.872050035715, 0, 0.489416729598))):
        with Locations((0, 0)):
            Hole(F_3_0MM_7_D / 2, depth=F_3_0MM_7_DEPTH)
            with Locations((0, 0, -(F_3_0MM_7_DEPTH + F_3_0MM_7_TIP / 2))):  # 118° drill point
                Cone(0, F_3_0MM_7_D / 2, F_3_0MM_7_TIP, mode=Mode.SUBTRACT)

    # Ø3.0mm 暗销孔7 on face 2
    with Locations(Plane(origin=(-4.772770579, -45.937170264, 7.608528471), x_dir=(-0.504107089648, 0, -0.863641153586), z_dir=(-0.863641153586, 0, 0.504107089648))):
        with Locations((0, 0)):
            Hole(F_3_0MM_7_ON_FACE_2_D / 2, depth=F_3_0MM_7_ON_FACE_2_DEPTH)
            with Locations((0, 0, -(F_3_0MM_7_ON_FACE_2_DEPTH + F_3_0MM_7_ON_FACE_2_TIP / 2))):  # 118° drill point
                Cone(0, F_3_0MM_7_ON_FACE_2_D / 2, F_3_0MM_7_ON_FACE_2_TIP, mode=Mode.SUBTRACT)


solid = part.part
